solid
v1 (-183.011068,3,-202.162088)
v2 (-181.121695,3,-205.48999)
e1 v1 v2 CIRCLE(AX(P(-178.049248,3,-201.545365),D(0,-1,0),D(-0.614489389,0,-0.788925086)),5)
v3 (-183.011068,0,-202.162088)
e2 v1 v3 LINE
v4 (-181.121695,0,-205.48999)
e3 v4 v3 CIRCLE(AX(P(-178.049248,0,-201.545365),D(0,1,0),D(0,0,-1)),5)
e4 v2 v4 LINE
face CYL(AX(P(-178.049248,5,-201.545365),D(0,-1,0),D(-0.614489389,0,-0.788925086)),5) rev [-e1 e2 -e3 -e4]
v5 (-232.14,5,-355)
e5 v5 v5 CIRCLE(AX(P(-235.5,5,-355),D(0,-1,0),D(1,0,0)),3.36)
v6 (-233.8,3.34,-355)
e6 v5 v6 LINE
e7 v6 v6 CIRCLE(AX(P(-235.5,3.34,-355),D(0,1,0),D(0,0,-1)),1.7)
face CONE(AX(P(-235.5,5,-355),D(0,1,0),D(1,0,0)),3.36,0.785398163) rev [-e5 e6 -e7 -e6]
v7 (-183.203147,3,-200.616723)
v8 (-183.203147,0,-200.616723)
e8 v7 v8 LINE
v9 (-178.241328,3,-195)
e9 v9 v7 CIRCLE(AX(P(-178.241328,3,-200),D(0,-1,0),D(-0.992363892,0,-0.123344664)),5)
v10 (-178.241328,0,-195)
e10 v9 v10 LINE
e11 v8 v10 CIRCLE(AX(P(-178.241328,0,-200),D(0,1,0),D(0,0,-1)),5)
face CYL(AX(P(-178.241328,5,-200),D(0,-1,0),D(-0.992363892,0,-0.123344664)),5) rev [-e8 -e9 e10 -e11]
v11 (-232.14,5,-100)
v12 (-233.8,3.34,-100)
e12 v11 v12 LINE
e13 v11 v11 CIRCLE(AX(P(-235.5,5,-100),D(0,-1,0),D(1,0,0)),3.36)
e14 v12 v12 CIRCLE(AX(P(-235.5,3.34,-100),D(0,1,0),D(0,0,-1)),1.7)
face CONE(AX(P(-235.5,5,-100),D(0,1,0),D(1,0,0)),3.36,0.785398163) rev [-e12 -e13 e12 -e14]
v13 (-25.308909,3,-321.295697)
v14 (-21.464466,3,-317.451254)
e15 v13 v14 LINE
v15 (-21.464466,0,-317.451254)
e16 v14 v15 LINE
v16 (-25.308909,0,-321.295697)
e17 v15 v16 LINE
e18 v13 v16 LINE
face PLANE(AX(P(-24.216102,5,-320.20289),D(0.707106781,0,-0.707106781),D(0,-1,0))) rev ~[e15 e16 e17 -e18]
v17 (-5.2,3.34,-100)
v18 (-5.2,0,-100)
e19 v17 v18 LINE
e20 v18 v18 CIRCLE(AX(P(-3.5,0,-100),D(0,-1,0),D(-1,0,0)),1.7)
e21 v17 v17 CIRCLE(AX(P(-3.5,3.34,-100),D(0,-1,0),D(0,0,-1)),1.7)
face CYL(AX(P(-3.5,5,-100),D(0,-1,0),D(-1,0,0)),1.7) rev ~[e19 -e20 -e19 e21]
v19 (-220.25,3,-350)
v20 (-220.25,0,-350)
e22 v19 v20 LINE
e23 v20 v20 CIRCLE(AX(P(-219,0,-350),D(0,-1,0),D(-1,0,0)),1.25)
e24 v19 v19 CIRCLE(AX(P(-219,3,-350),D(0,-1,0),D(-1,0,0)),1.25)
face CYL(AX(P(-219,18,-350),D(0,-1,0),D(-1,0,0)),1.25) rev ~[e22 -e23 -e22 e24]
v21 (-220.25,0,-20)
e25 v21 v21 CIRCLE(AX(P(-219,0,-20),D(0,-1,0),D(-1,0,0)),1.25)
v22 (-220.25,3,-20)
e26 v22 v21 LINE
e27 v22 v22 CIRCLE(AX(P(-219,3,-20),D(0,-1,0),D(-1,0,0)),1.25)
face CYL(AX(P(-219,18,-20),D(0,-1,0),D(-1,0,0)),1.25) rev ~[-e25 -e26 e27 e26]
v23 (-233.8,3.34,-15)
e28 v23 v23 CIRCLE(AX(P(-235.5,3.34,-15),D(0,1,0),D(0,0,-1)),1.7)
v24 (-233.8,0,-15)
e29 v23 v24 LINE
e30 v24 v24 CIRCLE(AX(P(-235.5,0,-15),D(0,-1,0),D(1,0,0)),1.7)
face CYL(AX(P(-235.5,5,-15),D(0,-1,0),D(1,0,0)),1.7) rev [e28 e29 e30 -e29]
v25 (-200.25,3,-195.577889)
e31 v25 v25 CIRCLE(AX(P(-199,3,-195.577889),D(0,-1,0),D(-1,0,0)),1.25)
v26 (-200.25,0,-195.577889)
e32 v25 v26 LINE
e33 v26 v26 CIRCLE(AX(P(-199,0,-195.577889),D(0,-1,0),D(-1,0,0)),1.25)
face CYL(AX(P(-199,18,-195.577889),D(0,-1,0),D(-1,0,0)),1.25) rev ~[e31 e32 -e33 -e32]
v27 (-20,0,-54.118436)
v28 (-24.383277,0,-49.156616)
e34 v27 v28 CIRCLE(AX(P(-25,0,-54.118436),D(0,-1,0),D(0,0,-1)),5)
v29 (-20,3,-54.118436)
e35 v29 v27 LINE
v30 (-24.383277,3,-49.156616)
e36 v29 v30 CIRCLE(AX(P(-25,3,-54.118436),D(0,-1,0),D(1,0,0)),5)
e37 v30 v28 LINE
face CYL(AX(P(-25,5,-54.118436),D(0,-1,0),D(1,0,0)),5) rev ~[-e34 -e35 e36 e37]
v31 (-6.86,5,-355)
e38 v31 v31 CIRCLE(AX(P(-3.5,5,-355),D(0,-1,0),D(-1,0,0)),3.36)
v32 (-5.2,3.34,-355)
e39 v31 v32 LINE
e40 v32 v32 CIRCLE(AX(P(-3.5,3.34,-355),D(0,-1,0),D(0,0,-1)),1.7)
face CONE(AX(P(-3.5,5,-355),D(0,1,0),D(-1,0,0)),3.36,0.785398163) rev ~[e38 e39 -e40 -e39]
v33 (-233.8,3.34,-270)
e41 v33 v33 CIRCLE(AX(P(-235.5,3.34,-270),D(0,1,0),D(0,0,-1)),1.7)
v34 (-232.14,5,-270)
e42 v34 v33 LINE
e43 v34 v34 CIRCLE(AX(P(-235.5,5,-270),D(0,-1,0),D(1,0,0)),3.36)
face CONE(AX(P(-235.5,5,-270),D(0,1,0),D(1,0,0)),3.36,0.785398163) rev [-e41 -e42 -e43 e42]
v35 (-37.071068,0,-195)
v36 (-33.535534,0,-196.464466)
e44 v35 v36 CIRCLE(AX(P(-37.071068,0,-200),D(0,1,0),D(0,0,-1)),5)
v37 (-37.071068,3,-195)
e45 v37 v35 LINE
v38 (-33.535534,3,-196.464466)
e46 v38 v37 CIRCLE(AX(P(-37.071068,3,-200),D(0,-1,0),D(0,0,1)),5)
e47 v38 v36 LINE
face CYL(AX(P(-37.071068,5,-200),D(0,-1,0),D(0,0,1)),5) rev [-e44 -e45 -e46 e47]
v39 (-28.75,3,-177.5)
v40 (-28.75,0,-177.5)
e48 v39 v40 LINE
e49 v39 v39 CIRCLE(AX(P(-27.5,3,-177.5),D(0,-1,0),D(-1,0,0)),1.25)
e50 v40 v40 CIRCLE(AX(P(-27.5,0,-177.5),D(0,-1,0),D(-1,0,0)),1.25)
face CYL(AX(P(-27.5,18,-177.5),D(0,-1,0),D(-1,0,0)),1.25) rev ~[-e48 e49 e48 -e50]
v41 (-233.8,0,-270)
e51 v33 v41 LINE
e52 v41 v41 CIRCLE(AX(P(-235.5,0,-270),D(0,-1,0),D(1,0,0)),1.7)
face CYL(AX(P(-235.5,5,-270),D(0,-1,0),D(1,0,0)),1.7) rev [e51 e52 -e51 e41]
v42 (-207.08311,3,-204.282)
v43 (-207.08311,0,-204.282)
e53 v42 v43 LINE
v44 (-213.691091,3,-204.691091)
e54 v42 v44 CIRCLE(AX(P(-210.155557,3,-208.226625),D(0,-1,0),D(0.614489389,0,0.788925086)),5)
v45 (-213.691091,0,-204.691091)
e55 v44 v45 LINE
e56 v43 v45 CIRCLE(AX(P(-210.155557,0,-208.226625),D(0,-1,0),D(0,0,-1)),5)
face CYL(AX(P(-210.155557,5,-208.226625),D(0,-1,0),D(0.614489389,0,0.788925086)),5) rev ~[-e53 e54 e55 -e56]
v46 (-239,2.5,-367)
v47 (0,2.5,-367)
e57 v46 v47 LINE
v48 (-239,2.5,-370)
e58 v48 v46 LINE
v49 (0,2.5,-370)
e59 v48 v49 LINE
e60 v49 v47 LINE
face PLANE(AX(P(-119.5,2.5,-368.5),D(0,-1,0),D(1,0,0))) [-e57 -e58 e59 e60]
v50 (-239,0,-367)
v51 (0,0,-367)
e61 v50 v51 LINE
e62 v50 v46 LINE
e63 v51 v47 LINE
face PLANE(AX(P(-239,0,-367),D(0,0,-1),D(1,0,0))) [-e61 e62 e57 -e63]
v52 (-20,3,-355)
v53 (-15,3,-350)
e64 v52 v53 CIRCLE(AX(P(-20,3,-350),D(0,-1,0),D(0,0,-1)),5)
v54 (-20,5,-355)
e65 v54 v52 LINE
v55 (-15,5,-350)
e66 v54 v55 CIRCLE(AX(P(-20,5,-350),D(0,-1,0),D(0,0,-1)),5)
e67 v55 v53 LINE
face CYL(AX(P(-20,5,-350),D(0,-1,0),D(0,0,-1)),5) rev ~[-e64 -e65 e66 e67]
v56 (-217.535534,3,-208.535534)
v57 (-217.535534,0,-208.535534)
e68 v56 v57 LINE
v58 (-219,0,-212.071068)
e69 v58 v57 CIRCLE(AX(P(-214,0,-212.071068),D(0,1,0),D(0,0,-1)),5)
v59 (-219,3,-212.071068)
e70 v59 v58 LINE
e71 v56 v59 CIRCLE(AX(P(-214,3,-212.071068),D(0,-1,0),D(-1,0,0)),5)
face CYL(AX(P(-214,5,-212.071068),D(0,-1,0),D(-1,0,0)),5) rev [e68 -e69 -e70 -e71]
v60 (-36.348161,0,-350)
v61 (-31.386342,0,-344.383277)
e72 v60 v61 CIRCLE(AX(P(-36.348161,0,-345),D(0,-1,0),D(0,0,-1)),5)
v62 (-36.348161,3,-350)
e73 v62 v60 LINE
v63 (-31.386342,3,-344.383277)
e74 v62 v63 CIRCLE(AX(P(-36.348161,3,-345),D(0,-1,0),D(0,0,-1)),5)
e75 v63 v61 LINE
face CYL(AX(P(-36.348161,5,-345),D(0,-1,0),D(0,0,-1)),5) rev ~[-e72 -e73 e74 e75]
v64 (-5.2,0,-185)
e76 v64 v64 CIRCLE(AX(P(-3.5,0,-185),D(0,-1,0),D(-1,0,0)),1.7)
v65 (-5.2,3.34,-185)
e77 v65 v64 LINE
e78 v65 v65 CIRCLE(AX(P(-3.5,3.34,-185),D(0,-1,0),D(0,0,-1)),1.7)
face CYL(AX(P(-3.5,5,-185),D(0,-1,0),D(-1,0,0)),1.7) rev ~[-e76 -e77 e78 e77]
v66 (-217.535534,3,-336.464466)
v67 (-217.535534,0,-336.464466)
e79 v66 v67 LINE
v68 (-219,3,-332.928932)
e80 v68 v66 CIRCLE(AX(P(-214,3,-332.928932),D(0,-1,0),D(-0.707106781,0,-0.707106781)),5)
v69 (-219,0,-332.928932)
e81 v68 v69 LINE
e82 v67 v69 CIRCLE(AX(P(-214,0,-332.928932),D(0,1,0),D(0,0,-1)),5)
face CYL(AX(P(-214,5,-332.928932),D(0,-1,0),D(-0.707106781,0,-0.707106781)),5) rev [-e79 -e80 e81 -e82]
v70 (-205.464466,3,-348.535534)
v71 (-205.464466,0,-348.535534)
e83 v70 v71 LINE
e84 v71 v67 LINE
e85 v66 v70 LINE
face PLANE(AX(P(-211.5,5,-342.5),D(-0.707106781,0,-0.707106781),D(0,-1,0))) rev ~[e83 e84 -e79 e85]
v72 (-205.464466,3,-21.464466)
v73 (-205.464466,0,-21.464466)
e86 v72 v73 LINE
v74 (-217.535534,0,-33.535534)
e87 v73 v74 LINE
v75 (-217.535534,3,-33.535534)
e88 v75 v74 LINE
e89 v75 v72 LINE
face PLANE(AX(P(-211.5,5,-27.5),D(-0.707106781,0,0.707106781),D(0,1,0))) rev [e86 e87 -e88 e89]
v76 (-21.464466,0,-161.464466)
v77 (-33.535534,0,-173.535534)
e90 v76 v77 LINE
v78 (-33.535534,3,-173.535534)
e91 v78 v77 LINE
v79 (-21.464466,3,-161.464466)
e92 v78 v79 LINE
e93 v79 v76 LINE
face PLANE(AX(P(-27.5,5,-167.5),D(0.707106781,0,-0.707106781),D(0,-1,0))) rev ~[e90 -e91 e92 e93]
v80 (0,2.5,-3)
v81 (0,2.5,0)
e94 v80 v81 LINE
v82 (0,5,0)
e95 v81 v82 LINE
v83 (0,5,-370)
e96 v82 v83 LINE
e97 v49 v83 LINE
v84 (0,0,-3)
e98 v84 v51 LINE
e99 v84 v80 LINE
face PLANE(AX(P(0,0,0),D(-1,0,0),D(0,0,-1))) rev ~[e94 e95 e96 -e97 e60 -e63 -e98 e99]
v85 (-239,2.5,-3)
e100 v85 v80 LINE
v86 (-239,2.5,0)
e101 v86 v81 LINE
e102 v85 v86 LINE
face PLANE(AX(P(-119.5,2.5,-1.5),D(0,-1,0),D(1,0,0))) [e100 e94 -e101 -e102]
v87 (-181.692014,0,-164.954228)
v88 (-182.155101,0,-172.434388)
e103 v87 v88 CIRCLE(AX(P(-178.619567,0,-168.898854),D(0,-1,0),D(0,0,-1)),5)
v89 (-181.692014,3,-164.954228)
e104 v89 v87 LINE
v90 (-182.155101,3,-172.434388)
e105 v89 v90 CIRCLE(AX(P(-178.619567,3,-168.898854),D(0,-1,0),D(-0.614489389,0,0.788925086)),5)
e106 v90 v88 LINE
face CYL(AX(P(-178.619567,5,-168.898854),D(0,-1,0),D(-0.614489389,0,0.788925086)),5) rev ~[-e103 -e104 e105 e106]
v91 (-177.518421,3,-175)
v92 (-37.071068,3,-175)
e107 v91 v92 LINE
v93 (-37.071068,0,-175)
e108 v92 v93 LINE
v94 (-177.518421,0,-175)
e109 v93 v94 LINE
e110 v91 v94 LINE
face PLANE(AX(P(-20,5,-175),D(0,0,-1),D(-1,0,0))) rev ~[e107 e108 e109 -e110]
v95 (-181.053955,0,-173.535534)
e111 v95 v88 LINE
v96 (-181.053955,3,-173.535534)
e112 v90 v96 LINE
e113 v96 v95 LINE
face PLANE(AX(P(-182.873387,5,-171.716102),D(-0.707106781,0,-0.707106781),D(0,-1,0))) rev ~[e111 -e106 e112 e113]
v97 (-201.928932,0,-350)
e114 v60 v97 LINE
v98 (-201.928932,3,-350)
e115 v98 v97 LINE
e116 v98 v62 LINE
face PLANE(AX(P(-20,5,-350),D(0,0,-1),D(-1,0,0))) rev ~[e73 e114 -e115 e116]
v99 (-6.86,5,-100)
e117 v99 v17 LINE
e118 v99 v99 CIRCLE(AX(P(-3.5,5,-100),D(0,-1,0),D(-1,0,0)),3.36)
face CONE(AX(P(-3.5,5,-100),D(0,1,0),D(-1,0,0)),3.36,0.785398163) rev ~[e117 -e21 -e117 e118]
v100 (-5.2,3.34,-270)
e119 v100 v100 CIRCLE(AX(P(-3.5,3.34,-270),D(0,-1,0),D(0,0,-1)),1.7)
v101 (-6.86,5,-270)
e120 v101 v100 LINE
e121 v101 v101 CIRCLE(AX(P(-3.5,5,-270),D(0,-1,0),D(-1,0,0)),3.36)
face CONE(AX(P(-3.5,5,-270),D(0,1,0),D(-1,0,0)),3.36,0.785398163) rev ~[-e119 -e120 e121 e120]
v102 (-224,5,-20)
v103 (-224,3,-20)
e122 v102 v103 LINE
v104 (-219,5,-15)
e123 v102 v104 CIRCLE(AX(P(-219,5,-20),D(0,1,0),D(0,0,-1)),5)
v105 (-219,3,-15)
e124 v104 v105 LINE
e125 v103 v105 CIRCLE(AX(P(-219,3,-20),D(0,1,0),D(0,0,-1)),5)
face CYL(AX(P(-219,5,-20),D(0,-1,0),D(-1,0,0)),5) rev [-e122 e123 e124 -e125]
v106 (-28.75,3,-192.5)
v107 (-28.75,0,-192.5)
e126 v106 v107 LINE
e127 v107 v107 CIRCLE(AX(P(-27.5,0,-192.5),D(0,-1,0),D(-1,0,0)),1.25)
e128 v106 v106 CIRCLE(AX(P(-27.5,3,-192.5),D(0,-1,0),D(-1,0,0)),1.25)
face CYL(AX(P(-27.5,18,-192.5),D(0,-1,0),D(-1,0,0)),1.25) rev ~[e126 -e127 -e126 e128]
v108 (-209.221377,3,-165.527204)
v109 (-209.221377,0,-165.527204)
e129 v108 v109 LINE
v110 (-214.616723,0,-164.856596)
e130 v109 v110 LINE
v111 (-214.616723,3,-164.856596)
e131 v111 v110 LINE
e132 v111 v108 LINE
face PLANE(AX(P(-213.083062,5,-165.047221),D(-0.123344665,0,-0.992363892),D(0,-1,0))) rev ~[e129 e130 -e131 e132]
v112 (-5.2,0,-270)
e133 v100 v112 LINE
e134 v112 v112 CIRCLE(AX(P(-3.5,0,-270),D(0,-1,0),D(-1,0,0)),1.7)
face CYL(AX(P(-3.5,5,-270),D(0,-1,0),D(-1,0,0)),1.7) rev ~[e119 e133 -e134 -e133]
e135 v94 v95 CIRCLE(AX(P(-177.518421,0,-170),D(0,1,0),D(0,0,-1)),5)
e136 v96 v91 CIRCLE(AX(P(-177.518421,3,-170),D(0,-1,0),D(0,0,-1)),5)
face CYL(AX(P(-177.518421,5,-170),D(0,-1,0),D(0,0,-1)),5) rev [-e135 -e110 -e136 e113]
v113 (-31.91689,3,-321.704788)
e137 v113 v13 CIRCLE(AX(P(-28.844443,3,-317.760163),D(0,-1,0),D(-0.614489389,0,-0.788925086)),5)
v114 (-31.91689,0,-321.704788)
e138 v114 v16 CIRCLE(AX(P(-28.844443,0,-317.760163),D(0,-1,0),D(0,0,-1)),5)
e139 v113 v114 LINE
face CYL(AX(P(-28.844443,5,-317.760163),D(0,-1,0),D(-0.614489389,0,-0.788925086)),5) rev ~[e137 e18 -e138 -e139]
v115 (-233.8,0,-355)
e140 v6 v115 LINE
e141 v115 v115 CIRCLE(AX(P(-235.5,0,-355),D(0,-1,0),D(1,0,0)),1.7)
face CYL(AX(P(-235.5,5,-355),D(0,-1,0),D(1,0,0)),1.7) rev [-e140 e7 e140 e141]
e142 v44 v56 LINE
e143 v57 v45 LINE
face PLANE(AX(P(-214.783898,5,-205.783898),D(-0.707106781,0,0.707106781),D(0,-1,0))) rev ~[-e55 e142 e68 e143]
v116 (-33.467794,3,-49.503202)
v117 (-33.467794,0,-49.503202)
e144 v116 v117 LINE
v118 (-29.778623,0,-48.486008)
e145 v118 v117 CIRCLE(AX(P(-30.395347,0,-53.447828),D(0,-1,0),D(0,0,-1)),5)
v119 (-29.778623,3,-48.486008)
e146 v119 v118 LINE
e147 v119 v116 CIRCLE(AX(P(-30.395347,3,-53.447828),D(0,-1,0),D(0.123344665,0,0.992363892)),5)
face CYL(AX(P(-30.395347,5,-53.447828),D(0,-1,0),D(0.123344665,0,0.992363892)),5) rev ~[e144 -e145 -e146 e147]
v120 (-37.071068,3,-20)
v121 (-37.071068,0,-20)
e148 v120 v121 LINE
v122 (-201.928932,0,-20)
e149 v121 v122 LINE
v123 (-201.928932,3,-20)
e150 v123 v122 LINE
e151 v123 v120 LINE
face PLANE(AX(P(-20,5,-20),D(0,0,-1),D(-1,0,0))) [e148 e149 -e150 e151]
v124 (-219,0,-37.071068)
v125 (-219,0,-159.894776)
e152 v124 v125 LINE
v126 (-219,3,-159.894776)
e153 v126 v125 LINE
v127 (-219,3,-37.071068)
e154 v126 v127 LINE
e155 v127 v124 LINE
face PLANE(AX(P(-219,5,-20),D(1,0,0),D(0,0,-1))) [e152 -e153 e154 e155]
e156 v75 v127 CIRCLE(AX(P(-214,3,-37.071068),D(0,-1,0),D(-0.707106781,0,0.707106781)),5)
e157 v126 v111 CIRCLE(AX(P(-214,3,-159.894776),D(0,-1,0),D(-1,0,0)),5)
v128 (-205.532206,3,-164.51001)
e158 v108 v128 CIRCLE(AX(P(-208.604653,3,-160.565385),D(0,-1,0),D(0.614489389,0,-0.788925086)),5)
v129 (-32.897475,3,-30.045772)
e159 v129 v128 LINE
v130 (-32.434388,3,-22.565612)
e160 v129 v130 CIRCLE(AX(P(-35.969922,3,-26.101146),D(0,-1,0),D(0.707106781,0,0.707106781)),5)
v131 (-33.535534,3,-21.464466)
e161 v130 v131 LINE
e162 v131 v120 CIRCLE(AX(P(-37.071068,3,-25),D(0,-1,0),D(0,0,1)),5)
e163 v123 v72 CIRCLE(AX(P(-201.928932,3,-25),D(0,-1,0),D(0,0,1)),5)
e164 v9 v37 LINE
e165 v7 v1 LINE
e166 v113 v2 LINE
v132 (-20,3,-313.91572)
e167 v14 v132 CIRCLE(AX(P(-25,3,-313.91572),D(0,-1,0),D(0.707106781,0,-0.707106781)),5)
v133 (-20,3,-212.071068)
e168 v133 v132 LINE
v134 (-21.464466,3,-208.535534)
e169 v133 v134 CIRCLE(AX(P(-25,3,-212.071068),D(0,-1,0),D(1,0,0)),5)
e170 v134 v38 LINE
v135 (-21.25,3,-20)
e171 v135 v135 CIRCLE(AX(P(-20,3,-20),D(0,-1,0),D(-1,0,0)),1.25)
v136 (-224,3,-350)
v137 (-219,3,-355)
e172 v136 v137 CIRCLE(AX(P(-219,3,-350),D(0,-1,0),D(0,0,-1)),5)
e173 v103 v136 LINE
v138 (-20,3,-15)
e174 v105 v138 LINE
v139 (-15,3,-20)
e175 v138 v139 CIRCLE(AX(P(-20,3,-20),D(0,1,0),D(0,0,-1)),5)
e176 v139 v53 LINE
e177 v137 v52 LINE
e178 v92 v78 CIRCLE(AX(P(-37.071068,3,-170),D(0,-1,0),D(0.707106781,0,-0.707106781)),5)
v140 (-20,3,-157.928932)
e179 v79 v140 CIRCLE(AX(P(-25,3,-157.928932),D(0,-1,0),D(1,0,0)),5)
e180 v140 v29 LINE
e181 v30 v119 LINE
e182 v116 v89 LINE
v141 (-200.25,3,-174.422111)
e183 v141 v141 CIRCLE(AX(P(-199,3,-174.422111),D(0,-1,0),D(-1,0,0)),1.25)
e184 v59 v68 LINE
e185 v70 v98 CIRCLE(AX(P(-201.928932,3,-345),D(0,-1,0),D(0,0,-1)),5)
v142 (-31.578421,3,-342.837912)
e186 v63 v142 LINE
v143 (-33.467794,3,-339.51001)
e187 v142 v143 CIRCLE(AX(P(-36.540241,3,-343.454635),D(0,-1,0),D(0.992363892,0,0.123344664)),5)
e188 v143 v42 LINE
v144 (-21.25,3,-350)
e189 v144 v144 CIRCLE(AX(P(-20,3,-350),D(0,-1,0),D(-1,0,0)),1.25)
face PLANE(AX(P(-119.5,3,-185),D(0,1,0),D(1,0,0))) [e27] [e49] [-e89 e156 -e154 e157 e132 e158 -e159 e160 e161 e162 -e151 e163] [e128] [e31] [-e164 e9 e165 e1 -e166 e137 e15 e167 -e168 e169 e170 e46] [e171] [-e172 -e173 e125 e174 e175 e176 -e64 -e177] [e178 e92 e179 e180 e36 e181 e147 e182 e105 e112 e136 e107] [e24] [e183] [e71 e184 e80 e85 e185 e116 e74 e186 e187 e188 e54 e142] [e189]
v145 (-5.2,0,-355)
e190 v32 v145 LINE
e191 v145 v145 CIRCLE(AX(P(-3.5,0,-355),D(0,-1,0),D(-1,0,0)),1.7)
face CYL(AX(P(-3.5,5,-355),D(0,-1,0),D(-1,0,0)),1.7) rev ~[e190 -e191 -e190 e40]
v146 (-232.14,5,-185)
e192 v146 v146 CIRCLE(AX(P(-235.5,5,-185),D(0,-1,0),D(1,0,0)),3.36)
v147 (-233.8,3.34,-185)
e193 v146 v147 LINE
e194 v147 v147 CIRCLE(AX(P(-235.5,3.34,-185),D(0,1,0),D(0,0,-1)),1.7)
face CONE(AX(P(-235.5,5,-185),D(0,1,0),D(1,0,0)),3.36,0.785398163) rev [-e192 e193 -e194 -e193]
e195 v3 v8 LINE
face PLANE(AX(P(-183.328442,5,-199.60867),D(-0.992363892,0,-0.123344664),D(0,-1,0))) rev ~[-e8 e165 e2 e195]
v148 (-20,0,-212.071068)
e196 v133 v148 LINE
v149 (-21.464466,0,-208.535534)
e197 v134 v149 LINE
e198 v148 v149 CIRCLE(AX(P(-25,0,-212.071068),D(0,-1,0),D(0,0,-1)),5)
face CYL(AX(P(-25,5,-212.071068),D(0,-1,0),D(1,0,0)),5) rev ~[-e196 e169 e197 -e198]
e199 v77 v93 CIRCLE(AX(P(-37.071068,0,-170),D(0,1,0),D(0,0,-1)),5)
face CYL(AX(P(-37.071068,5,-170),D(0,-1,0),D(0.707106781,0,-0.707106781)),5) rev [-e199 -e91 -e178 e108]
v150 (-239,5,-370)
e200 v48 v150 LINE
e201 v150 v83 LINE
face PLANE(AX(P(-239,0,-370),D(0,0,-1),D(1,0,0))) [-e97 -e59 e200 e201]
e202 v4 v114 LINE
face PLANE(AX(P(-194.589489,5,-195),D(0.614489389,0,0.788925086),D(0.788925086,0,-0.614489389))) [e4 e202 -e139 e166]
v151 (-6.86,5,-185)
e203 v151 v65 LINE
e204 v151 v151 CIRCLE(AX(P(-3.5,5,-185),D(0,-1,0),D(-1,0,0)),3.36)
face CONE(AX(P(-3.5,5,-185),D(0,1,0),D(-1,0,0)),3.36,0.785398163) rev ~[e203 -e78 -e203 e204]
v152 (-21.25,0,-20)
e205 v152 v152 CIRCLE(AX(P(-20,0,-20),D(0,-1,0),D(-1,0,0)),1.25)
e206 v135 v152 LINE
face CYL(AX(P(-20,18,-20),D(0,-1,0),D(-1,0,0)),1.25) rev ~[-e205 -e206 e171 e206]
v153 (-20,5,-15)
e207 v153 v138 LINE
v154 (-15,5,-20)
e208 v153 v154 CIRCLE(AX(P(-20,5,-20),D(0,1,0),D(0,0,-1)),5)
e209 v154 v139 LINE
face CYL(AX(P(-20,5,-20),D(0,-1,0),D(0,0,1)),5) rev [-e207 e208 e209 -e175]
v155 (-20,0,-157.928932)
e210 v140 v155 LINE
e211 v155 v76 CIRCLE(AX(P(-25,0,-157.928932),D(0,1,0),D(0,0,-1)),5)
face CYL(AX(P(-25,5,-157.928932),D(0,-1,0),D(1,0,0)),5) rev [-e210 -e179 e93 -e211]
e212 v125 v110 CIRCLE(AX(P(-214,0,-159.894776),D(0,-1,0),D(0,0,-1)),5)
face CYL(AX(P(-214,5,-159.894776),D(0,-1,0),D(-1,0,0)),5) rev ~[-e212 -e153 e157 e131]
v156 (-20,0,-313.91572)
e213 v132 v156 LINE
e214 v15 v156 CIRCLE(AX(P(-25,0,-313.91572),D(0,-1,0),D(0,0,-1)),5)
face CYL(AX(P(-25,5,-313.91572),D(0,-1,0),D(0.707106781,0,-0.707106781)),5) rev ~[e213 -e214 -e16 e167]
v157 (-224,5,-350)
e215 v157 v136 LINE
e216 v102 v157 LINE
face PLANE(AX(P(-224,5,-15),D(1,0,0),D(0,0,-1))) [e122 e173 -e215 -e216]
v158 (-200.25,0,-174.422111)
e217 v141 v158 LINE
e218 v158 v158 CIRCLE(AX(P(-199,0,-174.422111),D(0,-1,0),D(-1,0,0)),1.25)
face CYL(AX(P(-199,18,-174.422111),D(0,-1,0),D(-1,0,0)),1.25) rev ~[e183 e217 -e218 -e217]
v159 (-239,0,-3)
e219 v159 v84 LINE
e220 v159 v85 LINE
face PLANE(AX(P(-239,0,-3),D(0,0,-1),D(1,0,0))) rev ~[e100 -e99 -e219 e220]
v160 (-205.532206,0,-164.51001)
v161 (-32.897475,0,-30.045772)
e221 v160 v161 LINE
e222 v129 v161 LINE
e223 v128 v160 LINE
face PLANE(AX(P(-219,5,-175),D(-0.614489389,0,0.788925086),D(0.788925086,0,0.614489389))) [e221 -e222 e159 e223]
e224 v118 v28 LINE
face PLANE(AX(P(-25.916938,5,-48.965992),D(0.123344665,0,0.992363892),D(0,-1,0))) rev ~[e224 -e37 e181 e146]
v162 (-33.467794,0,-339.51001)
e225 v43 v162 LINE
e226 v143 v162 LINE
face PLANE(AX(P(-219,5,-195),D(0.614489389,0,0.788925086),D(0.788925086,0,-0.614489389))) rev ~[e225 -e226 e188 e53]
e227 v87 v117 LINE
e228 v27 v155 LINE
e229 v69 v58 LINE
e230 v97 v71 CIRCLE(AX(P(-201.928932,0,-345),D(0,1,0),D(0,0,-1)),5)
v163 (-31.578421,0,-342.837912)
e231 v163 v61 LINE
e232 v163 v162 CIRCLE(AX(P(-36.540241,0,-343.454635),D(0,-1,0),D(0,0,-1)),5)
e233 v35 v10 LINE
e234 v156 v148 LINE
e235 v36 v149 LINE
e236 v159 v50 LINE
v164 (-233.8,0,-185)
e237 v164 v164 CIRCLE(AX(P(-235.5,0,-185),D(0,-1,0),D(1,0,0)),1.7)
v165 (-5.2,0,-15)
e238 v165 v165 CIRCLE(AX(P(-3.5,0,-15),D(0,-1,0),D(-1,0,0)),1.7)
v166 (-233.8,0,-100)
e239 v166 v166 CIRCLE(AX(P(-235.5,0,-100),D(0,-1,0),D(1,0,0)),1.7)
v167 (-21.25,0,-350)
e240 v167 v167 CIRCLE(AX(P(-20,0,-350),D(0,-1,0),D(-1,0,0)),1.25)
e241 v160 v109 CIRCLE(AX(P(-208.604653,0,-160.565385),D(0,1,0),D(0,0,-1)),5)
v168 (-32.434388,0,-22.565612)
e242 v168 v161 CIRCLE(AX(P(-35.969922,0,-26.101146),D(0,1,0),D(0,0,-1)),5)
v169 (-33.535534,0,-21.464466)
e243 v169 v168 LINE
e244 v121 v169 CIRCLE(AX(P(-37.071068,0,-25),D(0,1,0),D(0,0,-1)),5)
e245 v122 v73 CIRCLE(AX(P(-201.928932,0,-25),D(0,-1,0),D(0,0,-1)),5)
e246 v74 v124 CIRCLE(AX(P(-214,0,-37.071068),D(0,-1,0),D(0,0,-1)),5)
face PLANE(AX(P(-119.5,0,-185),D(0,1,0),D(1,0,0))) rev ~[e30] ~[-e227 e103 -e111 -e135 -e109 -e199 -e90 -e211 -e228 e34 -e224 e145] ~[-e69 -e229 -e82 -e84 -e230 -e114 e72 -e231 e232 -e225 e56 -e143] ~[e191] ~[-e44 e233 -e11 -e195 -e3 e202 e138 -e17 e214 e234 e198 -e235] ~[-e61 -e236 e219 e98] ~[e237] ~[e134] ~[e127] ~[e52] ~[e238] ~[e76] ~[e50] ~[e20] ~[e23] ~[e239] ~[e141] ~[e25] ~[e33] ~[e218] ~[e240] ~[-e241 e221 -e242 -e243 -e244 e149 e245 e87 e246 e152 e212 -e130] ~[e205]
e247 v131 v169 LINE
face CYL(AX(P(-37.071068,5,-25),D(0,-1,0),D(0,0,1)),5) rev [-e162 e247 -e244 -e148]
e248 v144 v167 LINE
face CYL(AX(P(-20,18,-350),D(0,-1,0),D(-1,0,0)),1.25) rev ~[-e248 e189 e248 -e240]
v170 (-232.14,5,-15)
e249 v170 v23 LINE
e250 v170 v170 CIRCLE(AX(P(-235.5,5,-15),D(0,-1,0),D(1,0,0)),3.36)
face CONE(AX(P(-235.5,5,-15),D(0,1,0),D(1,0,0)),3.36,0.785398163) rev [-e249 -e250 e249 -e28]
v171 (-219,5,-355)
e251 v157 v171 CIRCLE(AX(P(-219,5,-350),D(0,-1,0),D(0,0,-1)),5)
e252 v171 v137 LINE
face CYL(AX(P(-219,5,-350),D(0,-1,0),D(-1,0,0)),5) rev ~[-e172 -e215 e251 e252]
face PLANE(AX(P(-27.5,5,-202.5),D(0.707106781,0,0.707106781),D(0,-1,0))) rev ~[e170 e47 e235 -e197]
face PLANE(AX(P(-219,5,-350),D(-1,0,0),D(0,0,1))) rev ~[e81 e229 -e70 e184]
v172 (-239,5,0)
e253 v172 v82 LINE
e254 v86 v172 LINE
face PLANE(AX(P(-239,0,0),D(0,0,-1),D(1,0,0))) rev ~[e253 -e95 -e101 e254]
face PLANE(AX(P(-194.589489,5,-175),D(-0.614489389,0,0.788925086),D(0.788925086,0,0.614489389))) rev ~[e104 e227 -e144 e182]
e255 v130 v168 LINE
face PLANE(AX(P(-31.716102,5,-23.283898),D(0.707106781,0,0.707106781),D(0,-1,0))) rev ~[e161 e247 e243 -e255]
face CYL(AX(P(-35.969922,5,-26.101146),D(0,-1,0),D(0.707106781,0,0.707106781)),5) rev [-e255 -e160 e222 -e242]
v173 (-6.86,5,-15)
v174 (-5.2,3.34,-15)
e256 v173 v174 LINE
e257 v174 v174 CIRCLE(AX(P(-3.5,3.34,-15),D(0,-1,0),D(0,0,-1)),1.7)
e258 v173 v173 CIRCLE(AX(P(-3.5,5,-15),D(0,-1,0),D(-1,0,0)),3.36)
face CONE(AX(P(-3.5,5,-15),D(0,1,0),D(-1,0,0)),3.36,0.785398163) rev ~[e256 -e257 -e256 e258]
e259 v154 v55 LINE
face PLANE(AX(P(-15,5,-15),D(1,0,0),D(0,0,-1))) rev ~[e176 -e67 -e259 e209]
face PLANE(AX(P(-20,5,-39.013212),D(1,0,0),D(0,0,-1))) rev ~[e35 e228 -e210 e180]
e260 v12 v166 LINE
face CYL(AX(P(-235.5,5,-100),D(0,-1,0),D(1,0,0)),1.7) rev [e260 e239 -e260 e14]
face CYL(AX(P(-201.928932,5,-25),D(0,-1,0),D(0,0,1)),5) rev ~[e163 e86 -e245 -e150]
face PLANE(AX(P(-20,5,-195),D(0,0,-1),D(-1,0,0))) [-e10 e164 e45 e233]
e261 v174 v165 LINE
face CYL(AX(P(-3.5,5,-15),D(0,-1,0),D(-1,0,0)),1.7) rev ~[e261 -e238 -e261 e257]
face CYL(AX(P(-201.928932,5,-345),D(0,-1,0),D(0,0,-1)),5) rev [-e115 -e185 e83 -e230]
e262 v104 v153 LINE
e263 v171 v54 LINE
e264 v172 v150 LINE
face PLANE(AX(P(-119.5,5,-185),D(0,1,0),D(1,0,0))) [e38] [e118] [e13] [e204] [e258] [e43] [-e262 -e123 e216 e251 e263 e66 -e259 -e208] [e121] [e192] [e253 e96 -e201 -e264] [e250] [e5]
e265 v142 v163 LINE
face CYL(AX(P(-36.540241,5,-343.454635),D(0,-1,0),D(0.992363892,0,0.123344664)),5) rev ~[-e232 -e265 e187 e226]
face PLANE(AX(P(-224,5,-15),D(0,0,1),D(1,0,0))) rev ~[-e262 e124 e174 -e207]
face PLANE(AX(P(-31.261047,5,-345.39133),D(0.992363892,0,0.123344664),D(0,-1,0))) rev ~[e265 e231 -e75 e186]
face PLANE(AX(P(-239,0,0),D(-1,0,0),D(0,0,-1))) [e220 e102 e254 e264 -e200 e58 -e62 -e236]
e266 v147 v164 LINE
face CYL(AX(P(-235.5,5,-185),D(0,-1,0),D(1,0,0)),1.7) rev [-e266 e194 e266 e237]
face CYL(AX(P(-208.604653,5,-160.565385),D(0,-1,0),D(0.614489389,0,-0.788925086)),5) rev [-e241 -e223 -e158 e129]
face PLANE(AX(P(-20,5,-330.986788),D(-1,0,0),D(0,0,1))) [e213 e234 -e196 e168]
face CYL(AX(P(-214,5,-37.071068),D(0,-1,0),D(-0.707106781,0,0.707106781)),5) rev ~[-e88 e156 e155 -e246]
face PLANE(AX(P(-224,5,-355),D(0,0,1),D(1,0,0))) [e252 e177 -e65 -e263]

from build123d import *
from OCP.BRepFilletAPI import BRepFilletAPI_MakeChamfer

# Parameters (mm, degrees)
SKETCH1_W                                            = 239
SKETCH1_H                                            = 370
BOSS_EXTRUDE1_DEPTH                                  = 5
CSK_FOR_M3_HEX_SOCKET_COUNTERSUNK_CAP_SC_D           = 3.4
CSK_FOR_M3_HEX_SOCKET_COUNTERSUNK_CAP_SC_CSINK_D     = 6.72
CSK_FOR_M3_HEX_SOCKET_COUNTERSUNK_CAP_SC_CSINK_ANGLE = 90
SKETCH12_W                                           = 239
SKETCH12_H                                           = 3
CUT_EXTRUDE7_DEPTH                                   = 2.5
CUT_EXTRUDE8_DEPTH                                   = 441.506526626
CHAMFER1_SIZE                                        = 15
CHAMFER1_SIZE2                                       = 10.688218108
FILLET1_R                                            = 5
SKETCH14_W                                           = 209
SKETCH14_H                                           = 340
CUT_EXTRUDE9_DEPTH                                   = 2
FILLET2_R                                            = 5
M3_TAPPED_HOLE1_D                                    = 2.5
M3_TAPPED_HOLE1_DEPTH                                = 15
M3_TAPPED_HOLE1_TIP                                  = 0.751075774


with BuildPart() as part:
    # Sketch1 → Boss-Extrude1 (new body)
    with BuildSketch(Plane(origin=(0, 0, 0), x_dir=(1, 0, 0), z_dir=(0, 1, 0))):
        with Locations((-119.5, 185)):
            Rectangle(SKETCH1_W, SKETCH1_H)
    extrude(amount=BOSS_EXTRUDE1_DEPTH)

    # CSK for M3 Hex Socket Countersunk Cap Screw1 (through all)
    with Locations(Plane(origin=(0, 5, 0), x_dir=(1, 0, 0), z_dir=(0, 1, 0))):
        with Locations((-3.5, 15), (-3.5, 100), (-3.5, 185), (-3.5, 270), (-3.5, 355)):
            csk_for_m3_hex_socket_countersunk_cap_sc = CounterSinkHole(CSK_FOR_M3_HEX_SOCKET_COUNTERSUNK_CAP_SC_D / 2, CSK_FOR_M3_HEX_SOCKET_COUNTERSUNK_CAP_SC_CSINK_D / 2, counter_sink_angle=CSK_FOR_M3_HEX_SOCKET_COUNTERSUNK_CAP_SC_CSINK_ANGLE)

    # Mirror1: CSK for M3 Hex Socket Countersunk Cap Screw1 across plane
    add(csk_for_m3_hex_socket_countersunk_cap_sc.mirror(Plane.ZY.offset(119.5)), mode=Mode.SUBTRACT)

    # Sketch12 → Cut-Extrude7 (cut)
    with BuildSketch(Plane.XZ):
        with Locations((-119.5, -1.5)):
            Rectangle(SKETCH12_W, SKETCH12_H)
        with Locations((-119.5, -368.5)):
            Rectangle(SKETCH12_W, SKETCH12_H)
    extrude(amount=-CUT_EXTRUDE7_DEPTH, mode=Mode.SUBTRACT)

    # Sketch13 → Cut-Extrude8 (cut, through all)
    with BuildSketch(Plane(origin=(0, 5, 0), x_dir=(1, 0, 0), z_dir=(0, 1, 0))):
        Polygon((-20, 39.013212111), (-20, 175), (-194.589488967, 175), align=None)
        Polygon((-20, 350), (-219, 350), (-219, 195), align=None)
        Polygon((-20, 330.986787889), (-20, 195), (-194.589488967, 195), align=None)
        Polygon((-219, 20), (-219, 175), (-20, 20), align=None)
    extrude(amount=-CUT_EXTRUDE8_DEPTH, mode=Mode.SUBTRACT)

    # Chamfer1: one chamfer whose edges measure the first distance from different faces: ONE call of the kernel's chamfer builder (chamfer() names one face for all edges)
    chamfer1_edges_1 = [part.edges().sort_by_distance(p)[0] for p in [
        (-20, 2.5, -20),
    ]]
    chamfer1_side_1 = [part.faces().sort_by_distance(p)[0] for p in [
        (-119.5, 2.5, -20),
    ]]
    chamfer1_edges_2 = [part.edges().sort_by_distance(p)[0] for p in [
        (-219, 2.5, -20),
        (-20, 2.5, -175),
        (-219, 2.5, -350),
        (-20, 2.5, -195),
    ]]
    chamfer1_edges_3 = [part.edges().sort_by_distance(p)[0] for p in [
        (-219, 2.5, -175),
    ]]
    chamfer1_side_3 = [part.faces().sort_by_distance(p)[0] for p in [
        (-119.5, 2.5, -97.5),
    ]]
    chamfer1_edges_4 = [part.edges().sort_by_distance(p)[0] for p in [
        (-194.589488967, 2.5, -175),
    ]]
    chamfer1_side_4 = [part.faces().sort_by_distance(p)[0] for p in [
        (-107.294744483, 2.5, -175),
    ]]
    chamfer1_edges_5 = [part.edges().sort_by_distance(p)[0] for p in [
        (-20, 2.5, -39.013212111),
    ]]
    chamfer1_side_5 = [part.faces().sort_by_distance(p)[0] for p in [
        (-107.294744483, 2.5, -107.006606056),
    ]]
    chamfer1_edges_6 = [part.edges().sort_by_distance(p)[0] for p in [
        (-20, 2.5, -350),
    ]]
    chamfer1_side_6 = [part.faces().sort_by_distance(p)[0] for p in [
        (-119.5, 2.5, -272.5),
    ]]
    chamfer1_edges_7 = [part.edges().sort_by_distance(p)[0] for p in [
        (-219, 2.5, -195),
    ]]
    chamfer1_side_7 = [part.faces().sort_by_distance(p)[0] for p in [
        (-219, 2.5, -272.5),
    ]]
    chamfer1_edges_8 = [part.edges().sort_by_distance(p)[0] for p in [
        (-194.589488967, 2.5, -195),
    ]]
    chamfer1_side_8 = [part.faces().sort_by_distance(p)[0] for p in [
        (-107.294744483, 2.5, -262.993393944),
    ]]
    chamfer1_edges_9 = [part.edges().sort_by_distance(p)[0] for p in [
        (-20, 2.5, -330.986787889),
    ]]
    chamfer1_side_9 = [part.faces().sort_by_distance(p)[0] for p in [
        (-20, 2.5, -262.993393944),
    ]]
    chamfer1 = BRepFilletAPI_MakeChamfer(part.part.solid().wrapped)
    for e in chamfer1_edges_1:
        chamfer1.Add(CHAMFER1_SIZE, CHAMFER1_SIZE2, e.wrapped, chamfer1_side_1[0].wrapped)  # the first distance lies on this face
    for e in chamfer1_edges_2:
        chamfer1.Add(CHAMFER1_SIZE, e.wrapped)
    for e in chamfer1_edges_3:
        chamfer1.Add(CHAMFER1_SIZE, CHAMFER1_SIZE2, e.wrapped, chamfer1_side_3[0].wrapped)  # the first distance lies on this face
    for e in chamfer1_edges_4:
        chamfer1.Add(CHAMFER1_SIZE, CHAMFER1_SIZE2, e.wrapped, chamfer1_side_4[0].wrapped)  # the first distance lies on this face
    for e in chamfer1_edges_5:
        chamfer1.Add(CHAMFER1_SIZE, CHAMFER1_SIZE2, e.wrapped, chamfer1_side_5[0].wrapped)  # the first distance lies on this face
    for e in chamfer1_edges_6:
        chamfer1.Add(CHAMFER1_SIZE, CHAMFER1_SIZE2, e.wrapped, chamfer1_side_6[0].wrapped)  # the first distance lies on this face
    for e in chamfer1_edges_7:
        chamfer1.Add(CHAMFER1_SIZE, CHAMFER1_SIZE2, e.wrapped, chamfer1_side_7[0].wrapped)  # the first distance lies on this face
    for e in chamfer1_edges_8:
        chamfer1.Add(CHAMFER1_SIZE, CHAMFER1_SIZE2, e.wrapped, chamfer1_side_8[0].wrapped)  # the first distance lies on this face
    for e in chamfer1_edges_9:
        chamfer1.Add(CHAMFER1_SIZE, CHAMFER1_SIZE2, e.wrapped, chamfer1_side_9[0].wrapped)  # the first distance lies on this face
    add(Compound.cast(chamfer1.Shape()), mode=Mode.REPLACE)

    # Fillet1
    fillet1_edges = [part.edges().sort_by_distance(p)[0] for p in [
        (-179.589488967, 2.5, -175),
        (-35, 2.5, -175),
        (-20, 2.5, -49.701430219),
        (-20, 2.5, -160),
        (-219, 2.5, -35),
        (-219, 2.5, -164.311781892),
        (-28.43220339, 2.5, -26.56779661),
        (-207.16612371, 2.5, -165.782659171),
        (-204, 2.5, -20),
        (-35, 2.5, -20),
        (-186.157285577, 2.5, -168.43220339),
        (-31.83387629, 2.5, -48.23055294),
        (-31.83387629, 2.5, -340.782659171),
        (-210.56779661, 2.5, -201.56779661),
        (-219, 2.5, -335),
        (-219, 2.5, -210),
        (-35, 2.5, -195),
        (-183.901270859, 2.5, -195),
        (-28.43220339, 2.5, -324.418991278),
        (-182.755612677, 2.5, -204.217340829),
        (-20, 2.5, -210),
        (-20, 2.5, -315.986787889),
        (-204, 2.5, -350),
        (-30.688218108, 2.5, -350),
    ]]
    fillet(fillet1_edges, radius=FILLET1_R)

    # Sketch14 → Cut-Extrude9 (cut)
    with BuildSketch(Plane(origin=(0, 5, 0), x_dir=(1, 0, 0), z_dir=(0, 1, 0))):
        with Locations((-119.5, 185)):
            Rectangle(SKETCH14_W, SKETCH14_H)
    extrude(amount=-CUT_EXTRUDE9_DEPTH, mode=Mode.SUBTRACT)

    # Fillet2
    fillet2_edges = [part.edges().sort_by_distance(p)[0] for p in [
        (-224, 4, -15),
        (-224, 4, -355),
        (-15, 4, -355),
        (-15, 4, -15),
    ]]
    fillet(fillet2_edges, radius=FILLET2_R)

    # M3 Tapped Hole1
    with Locations(Plane(origin=(0, 3, 0), x_dir=(1, 0, 0), z_dir=(0, 1, 0))):
        with Locations((-219, 350), (-20, 350), (-20, 20), (-27.5, 192.5), (-219, 20), (-27.5, 177.5), (-199, 195.577889447), (-199, 174.422110553)):
            Hole(M3_TAPPED_HOLE1_D / 2, depth=M3_TAPPED_HOLE1_DEPTH)
            with Locations((0, 0, -(M3_TAPPED_HOLE1_DEPTH + M3_TAPPED_HOLE1_TIP / 2))):  # 118° drill point
                Cone(0, M3_TAPPED_HOLE1_D / 2, M3_TAPPED_HOLE1_TIP, mode=Mode.SUBTRACT)


solid = part.part
